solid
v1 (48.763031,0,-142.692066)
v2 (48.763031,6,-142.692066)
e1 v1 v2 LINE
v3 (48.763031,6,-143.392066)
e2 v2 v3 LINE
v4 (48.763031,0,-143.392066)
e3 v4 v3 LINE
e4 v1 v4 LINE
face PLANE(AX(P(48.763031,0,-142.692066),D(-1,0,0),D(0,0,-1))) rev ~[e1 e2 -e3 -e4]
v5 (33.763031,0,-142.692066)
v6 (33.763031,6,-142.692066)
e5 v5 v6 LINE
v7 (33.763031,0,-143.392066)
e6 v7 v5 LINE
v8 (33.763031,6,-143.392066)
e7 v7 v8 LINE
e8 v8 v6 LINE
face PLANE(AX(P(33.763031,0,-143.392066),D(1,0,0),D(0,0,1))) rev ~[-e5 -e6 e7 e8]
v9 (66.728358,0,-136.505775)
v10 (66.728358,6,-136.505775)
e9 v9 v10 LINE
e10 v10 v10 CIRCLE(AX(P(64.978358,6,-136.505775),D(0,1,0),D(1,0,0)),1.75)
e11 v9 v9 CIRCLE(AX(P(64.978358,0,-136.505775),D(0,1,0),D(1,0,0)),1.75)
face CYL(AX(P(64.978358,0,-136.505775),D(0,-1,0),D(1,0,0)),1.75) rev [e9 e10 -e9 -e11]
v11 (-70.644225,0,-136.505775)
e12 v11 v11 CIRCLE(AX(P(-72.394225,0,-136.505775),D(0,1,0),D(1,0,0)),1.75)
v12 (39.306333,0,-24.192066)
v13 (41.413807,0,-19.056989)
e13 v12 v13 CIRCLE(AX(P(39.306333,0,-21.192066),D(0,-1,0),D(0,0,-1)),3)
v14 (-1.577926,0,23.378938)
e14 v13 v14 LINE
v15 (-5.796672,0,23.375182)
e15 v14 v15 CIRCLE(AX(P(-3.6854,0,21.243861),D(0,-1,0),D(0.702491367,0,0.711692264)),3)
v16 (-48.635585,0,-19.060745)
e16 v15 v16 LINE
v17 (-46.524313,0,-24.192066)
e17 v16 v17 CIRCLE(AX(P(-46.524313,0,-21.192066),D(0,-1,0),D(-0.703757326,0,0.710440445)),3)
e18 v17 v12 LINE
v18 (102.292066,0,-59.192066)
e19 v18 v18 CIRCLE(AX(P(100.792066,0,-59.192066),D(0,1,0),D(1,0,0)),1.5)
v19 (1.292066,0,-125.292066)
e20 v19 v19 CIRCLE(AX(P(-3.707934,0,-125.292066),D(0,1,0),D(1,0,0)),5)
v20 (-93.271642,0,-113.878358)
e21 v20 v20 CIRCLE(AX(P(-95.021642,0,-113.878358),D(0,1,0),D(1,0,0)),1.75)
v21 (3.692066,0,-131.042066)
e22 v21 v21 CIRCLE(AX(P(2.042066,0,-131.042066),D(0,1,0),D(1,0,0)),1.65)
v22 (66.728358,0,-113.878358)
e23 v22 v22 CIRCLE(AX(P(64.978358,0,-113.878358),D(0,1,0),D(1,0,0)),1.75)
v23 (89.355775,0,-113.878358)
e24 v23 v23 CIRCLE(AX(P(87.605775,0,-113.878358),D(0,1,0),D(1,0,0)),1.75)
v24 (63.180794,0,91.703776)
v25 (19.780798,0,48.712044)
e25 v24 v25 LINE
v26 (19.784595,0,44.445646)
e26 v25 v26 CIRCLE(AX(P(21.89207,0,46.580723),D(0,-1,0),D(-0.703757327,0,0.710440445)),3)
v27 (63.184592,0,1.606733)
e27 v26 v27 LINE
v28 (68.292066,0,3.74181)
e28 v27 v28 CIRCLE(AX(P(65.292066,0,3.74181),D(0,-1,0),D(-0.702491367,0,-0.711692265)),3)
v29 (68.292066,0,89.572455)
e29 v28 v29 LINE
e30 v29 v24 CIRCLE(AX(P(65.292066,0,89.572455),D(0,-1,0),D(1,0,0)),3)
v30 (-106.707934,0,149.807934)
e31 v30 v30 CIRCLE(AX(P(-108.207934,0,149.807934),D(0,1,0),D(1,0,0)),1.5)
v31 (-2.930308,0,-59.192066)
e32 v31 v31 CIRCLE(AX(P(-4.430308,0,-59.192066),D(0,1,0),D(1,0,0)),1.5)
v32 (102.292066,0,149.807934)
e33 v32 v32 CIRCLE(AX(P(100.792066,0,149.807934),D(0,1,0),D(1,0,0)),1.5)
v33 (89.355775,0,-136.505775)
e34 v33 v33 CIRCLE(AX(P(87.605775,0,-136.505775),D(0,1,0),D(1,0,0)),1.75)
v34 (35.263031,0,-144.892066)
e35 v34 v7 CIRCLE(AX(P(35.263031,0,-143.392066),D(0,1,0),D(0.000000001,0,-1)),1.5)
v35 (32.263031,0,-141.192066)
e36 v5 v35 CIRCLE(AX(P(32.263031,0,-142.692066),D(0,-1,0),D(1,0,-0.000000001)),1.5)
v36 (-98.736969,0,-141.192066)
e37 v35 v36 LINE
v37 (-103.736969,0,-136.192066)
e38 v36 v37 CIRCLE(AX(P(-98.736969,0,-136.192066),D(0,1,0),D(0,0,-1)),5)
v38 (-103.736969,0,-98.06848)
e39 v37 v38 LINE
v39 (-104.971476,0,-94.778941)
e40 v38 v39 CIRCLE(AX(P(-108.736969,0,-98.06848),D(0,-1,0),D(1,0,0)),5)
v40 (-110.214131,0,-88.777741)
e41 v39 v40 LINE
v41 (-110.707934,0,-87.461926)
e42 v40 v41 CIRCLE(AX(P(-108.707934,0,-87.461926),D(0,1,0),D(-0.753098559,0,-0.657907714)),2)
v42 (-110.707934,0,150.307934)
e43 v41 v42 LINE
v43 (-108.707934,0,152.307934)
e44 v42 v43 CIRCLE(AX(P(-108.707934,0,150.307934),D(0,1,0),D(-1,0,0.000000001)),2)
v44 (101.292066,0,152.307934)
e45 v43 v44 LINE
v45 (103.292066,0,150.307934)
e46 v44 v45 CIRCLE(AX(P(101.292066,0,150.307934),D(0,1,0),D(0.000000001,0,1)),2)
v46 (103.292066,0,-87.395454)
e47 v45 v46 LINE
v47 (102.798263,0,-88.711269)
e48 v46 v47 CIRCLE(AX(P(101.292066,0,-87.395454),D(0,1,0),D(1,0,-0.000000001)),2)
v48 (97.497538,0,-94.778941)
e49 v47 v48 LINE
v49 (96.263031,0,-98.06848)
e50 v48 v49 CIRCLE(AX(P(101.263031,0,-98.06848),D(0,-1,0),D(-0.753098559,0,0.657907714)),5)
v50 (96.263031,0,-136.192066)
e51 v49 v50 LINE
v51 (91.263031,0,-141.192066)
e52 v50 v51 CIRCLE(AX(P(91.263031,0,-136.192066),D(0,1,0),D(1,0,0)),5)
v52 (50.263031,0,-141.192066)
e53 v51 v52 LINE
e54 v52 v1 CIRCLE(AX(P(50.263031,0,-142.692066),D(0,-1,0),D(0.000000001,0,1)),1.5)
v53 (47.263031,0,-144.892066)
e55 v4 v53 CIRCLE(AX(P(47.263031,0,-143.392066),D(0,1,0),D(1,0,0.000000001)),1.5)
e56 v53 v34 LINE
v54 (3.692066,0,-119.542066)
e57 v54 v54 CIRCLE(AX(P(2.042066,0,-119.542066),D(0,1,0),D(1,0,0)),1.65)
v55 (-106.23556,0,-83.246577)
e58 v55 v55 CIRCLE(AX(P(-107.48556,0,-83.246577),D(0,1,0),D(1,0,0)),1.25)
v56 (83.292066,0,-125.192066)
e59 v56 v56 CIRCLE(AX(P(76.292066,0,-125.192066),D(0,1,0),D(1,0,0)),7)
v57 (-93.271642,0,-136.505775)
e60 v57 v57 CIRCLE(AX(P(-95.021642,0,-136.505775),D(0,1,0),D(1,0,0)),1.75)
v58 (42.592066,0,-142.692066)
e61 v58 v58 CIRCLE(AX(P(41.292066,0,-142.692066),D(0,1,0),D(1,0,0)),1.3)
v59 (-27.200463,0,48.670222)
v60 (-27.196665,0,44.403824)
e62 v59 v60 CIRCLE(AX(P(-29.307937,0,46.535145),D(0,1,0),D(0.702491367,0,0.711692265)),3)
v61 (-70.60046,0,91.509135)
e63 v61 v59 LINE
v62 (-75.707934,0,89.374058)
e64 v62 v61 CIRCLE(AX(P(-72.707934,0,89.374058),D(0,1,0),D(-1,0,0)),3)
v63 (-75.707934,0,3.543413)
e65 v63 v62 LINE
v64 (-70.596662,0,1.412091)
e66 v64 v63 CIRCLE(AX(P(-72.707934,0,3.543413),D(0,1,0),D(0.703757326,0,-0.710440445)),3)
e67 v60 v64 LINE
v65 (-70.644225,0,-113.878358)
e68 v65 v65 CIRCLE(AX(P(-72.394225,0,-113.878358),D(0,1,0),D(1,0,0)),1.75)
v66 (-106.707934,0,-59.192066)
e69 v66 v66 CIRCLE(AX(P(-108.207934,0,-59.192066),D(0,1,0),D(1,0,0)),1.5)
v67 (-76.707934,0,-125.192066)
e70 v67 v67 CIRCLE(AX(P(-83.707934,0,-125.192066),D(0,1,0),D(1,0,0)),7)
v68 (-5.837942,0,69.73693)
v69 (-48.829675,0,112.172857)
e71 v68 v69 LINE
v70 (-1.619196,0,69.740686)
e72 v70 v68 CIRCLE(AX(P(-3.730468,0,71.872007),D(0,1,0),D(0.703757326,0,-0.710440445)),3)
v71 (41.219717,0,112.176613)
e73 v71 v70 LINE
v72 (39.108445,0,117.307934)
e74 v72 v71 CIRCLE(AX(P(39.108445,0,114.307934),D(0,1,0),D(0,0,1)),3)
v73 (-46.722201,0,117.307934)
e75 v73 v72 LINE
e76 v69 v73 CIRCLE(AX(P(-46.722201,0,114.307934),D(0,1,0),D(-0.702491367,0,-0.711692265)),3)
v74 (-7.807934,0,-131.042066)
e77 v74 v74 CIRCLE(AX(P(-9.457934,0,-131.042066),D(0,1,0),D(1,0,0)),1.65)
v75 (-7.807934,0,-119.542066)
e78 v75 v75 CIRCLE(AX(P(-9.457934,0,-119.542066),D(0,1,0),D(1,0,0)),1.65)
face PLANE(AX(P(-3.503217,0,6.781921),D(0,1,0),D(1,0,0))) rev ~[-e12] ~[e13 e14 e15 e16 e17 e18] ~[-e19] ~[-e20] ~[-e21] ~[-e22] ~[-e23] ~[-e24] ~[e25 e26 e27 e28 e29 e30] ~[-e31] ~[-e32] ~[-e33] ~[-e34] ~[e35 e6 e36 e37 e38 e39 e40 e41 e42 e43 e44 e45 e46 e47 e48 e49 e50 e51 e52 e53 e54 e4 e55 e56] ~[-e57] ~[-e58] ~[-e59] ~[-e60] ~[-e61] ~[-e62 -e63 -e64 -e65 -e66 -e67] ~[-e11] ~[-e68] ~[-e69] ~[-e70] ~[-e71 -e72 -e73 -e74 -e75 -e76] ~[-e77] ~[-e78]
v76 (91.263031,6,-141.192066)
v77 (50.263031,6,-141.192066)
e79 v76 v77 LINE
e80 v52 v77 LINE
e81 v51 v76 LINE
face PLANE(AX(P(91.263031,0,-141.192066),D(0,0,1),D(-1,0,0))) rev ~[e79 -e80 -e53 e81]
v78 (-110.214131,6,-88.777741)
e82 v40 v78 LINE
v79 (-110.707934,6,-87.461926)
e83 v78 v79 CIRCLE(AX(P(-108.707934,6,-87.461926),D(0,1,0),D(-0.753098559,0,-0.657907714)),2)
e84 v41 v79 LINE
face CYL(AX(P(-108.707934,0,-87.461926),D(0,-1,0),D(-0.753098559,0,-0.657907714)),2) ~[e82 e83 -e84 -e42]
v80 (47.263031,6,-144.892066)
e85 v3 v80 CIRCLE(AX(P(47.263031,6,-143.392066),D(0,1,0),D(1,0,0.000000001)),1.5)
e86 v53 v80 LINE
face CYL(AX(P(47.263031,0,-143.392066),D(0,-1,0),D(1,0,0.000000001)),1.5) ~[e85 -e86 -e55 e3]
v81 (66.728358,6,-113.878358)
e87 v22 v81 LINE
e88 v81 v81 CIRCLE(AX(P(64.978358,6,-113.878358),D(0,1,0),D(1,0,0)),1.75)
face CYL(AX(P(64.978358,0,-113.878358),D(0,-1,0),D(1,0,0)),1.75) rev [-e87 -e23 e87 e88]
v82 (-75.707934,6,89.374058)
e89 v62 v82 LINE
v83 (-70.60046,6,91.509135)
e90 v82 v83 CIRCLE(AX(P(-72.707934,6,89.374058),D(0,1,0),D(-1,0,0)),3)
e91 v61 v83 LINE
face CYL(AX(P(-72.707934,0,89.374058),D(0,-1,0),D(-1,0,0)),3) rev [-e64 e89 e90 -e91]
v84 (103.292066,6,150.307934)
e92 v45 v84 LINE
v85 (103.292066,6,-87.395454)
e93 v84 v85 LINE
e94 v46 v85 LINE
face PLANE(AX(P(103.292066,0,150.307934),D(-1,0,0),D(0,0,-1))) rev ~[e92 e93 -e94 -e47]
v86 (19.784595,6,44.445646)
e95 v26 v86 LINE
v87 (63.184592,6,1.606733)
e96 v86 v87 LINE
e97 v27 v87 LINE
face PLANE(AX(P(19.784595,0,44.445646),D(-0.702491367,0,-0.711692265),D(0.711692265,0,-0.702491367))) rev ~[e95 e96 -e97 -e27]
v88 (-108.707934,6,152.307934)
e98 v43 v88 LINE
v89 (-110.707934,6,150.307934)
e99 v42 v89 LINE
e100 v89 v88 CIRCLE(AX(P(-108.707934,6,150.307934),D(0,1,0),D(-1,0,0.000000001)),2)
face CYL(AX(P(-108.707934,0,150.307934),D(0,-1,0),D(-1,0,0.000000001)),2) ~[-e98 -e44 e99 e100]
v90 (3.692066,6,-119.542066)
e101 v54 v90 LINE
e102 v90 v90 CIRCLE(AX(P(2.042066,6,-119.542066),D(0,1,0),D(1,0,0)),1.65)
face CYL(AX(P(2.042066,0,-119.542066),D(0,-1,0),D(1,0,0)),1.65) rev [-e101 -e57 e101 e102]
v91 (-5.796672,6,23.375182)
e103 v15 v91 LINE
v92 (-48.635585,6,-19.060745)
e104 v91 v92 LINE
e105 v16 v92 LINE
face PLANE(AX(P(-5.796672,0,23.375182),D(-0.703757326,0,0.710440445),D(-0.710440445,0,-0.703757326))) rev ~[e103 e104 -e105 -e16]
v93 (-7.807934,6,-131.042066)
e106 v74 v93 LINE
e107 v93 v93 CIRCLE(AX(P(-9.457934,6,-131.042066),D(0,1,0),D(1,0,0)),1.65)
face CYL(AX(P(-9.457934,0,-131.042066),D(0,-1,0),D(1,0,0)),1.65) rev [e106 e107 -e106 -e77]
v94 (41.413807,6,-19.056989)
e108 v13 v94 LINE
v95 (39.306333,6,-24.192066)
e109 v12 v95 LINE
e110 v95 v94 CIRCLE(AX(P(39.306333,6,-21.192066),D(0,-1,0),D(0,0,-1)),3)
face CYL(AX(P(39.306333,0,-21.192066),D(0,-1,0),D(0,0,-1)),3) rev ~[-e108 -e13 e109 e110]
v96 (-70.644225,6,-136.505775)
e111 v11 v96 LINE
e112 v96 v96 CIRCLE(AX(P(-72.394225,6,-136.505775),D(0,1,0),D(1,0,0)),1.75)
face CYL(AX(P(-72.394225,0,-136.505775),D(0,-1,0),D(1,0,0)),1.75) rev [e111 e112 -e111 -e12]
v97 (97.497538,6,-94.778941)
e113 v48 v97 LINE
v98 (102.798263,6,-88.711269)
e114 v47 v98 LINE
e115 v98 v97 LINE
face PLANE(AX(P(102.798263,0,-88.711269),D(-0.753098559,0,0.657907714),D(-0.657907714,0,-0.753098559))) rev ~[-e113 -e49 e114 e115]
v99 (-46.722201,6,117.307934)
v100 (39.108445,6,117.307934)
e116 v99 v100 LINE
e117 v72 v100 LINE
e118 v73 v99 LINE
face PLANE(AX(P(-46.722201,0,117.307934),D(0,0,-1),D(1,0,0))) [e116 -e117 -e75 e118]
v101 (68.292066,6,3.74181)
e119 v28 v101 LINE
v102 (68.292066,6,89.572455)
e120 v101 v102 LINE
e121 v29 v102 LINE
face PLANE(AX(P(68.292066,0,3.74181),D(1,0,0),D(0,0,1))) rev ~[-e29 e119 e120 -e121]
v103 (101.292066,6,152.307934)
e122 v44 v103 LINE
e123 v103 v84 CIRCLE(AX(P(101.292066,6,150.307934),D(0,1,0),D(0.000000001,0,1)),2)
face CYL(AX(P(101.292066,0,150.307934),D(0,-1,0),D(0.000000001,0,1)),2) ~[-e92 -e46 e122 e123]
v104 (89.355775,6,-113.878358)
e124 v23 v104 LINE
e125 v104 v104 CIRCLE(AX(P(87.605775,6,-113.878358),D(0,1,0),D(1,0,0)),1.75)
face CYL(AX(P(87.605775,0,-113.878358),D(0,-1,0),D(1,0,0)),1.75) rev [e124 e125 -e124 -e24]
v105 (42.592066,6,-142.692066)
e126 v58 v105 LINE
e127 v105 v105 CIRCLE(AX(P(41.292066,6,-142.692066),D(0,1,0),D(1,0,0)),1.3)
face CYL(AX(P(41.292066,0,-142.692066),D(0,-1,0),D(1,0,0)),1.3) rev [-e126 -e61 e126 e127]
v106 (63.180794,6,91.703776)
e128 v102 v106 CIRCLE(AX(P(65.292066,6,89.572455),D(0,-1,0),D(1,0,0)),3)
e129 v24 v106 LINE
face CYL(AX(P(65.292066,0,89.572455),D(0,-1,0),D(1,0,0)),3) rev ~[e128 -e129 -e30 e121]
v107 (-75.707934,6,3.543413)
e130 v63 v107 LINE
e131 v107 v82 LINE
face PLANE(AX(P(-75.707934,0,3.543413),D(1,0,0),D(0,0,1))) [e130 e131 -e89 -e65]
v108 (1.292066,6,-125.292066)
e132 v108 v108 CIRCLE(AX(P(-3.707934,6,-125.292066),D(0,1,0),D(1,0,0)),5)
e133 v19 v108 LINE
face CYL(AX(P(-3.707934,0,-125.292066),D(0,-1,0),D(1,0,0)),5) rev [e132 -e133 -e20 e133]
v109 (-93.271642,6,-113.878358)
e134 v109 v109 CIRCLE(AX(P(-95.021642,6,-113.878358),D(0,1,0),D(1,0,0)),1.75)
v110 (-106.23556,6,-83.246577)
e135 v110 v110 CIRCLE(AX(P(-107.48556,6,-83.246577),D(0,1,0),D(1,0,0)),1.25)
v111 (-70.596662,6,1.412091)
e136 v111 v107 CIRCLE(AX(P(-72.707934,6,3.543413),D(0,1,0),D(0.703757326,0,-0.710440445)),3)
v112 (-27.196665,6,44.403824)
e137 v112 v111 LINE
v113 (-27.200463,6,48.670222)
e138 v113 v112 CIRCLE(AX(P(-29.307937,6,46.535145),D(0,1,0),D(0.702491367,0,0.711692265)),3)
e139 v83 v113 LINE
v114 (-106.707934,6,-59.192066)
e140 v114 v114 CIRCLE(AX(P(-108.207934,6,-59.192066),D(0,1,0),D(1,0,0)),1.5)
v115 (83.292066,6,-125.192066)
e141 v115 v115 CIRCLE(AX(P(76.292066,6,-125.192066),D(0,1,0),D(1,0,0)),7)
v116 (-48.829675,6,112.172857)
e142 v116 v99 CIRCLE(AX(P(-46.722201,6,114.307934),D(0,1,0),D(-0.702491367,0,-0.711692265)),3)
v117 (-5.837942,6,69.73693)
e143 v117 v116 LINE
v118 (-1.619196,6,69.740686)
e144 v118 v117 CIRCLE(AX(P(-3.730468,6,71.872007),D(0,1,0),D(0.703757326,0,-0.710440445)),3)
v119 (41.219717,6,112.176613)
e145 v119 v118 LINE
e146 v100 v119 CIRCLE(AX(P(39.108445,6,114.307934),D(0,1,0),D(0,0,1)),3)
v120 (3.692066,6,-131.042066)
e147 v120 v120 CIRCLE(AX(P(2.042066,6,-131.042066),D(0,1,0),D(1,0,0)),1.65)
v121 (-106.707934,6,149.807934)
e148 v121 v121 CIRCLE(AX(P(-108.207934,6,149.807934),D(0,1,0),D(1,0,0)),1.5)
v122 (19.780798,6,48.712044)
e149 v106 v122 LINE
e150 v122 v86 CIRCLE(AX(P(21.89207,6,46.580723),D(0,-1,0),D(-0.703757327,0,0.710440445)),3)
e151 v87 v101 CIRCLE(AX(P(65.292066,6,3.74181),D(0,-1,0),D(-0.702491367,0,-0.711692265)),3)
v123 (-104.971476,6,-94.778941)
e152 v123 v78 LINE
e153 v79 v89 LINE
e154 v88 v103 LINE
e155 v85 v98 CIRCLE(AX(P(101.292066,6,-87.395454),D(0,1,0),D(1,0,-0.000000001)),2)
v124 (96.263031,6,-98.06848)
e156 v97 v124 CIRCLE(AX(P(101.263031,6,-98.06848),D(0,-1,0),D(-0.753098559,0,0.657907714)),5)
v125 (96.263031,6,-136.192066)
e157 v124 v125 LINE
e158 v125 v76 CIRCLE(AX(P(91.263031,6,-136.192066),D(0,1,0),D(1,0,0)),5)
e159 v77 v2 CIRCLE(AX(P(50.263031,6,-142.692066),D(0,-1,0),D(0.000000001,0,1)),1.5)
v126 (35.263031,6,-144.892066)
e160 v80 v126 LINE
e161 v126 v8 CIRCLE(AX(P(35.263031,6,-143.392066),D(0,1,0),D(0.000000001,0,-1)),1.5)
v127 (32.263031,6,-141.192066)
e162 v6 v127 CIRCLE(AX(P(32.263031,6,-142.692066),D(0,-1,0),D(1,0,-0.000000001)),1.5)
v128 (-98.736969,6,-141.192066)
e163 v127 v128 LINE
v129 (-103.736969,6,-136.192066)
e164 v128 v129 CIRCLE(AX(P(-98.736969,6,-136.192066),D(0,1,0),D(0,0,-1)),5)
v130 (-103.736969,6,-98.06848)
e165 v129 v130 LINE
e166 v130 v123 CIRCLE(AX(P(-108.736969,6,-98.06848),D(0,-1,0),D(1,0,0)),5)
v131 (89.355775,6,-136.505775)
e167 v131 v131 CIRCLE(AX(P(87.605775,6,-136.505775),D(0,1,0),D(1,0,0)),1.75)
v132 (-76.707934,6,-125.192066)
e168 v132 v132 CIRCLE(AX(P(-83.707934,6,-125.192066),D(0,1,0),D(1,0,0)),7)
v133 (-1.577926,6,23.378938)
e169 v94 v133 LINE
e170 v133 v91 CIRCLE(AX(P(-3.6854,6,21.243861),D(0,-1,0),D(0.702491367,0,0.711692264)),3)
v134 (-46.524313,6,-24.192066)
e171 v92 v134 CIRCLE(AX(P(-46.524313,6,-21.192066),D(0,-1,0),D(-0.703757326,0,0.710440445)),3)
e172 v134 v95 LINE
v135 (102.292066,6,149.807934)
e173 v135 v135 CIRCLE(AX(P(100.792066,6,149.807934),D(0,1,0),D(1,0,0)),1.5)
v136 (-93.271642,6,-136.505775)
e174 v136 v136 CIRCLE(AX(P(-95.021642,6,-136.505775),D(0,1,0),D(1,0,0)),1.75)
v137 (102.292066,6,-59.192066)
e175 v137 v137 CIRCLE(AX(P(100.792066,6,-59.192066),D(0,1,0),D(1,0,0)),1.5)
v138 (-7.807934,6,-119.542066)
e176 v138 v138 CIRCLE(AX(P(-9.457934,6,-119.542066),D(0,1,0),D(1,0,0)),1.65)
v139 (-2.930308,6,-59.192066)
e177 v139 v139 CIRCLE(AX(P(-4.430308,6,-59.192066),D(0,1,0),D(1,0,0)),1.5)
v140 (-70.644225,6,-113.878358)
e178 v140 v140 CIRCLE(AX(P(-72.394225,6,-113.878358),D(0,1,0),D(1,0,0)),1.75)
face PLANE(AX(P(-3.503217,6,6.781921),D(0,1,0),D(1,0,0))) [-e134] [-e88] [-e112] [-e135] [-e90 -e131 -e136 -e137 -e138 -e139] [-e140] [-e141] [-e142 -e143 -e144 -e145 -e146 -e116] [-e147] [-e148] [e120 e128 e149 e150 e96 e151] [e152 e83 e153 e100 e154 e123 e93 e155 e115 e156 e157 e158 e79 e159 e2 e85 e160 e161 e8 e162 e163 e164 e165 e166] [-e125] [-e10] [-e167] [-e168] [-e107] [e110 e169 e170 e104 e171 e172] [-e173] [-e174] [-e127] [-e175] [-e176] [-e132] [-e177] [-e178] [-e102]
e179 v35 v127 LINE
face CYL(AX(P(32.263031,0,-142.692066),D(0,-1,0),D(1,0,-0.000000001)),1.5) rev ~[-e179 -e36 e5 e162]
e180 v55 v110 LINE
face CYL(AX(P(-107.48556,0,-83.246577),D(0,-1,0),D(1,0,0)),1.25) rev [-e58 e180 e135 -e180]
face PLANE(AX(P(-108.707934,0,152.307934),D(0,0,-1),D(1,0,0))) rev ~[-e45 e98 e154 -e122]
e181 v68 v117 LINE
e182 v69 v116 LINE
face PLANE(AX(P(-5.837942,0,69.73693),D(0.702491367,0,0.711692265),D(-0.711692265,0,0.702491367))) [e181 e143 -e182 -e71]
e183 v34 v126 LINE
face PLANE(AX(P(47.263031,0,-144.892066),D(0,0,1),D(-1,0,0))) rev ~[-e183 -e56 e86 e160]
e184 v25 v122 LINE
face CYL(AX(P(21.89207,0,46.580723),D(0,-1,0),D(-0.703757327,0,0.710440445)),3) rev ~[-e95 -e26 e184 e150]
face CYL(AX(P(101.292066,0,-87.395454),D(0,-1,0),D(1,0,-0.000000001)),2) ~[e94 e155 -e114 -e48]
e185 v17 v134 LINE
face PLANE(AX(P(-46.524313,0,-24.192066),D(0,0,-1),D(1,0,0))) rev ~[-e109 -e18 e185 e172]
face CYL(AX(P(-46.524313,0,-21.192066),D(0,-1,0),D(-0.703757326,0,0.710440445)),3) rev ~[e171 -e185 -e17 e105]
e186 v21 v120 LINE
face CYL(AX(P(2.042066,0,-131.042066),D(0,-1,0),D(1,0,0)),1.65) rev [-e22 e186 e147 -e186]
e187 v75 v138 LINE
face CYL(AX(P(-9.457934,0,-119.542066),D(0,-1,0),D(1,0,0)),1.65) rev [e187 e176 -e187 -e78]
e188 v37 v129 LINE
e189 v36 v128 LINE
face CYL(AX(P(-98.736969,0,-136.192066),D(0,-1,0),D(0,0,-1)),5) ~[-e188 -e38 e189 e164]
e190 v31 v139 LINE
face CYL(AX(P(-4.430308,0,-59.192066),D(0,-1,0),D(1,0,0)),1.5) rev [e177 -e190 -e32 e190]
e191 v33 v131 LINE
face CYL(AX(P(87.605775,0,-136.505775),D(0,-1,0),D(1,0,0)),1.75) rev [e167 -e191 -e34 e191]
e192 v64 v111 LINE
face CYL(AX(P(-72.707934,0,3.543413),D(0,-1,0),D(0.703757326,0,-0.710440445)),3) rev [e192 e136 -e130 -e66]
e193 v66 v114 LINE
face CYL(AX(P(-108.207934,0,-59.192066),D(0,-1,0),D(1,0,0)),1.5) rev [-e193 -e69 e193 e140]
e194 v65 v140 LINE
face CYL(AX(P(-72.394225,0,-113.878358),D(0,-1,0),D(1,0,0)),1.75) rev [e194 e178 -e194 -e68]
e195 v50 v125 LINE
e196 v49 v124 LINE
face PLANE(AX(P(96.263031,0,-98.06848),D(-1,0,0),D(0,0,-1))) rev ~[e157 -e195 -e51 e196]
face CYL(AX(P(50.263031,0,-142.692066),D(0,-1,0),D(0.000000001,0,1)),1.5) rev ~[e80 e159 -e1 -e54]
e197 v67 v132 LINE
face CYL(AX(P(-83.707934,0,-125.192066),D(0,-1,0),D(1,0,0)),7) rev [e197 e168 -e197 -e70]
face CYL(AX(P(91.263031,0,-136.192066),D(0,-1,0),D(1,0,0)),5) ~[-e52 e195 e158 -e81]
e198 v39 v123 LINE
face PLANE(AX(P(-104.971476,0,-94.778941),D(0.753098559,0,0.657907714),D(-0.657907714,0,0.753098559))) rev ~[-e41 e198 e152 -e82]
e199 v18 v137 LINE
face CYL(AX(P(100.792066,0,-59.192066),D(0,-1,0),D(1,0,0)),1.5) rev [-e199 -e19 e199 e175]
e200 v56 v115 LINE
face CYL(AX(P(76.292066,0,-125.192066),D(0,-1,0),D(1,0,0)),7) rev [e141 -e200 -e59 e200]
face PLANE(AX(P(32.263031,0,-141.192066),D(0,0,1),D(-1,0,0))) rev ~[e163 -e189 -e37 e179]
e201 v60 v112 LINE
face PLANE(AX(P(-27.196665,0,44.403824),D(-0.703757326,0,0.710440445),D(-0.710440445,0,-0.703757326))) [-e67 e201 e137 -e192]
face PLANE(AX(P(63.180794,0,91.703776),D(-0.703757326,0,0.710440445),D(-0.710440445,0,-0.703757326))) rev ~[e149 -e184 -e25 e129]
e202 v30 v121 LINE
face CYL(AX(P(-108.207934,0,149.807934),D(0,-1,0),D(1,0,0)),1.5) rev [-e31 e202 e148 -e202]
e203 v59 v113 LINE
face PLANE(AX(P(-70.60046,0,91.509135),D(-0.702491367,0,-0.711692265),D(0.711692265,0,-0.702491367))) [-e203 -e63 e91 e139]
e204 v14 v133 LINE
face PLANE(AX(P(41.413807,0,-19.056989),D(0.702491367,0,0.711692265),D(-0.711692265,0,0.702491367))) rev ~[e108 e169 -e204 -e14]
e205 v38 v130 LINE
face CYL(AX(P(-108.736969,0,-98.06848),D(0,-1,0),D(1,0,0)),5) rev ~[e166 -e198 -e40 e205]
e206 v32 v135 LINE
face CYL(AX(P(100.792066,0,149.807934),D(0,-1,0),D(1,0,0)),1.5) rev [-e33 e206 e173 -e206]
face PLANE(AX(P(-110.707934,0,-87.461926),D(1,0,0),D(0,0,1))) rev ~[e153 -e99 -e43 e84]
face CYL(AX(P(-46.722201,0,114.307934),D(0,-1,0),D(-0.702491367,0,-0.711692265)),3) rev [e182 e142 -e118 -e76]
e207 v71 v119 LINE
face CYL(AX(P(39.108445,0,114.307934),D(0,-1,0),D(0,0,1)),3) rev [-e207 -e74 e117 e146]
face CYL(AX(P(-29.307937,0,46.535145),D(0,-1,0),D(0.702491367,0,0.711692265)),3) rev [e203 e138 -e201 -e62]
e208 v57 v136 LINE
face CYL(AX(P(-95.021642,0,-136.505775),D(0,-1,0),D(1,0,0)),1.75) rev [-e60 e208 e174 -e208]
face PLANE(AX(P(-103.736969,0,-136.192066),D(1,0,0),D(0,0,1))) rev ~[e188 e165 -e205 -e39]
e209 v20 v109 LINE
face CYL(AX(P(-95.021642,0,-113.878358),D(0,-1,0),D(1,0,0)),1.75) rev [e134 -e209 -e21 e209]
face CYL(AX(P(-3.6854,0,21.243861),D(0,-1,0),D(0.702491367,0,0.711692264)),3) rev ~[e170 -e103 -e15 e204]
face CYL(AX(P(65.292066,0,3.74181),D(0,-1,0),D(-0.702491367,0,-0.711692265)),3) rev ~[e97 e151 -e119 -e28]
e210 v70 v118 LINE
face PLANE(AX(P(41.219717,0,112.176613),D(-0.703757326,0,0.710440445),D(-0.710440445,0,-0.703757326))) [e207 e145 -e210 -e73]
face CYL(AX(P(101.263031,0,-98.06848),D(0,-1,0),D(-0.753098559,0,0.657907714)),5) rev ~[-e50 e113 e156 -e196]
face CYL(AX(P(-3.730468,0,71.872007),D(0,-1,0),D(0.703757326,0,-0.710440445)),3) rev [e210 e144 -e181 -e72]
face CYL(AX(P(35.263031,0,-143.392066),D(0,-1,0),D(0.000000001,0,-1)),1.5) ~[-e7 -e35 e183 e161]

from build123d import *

# Parameters (mm, degrees)
SKETCH_1_R      = 1.25
SKETCH_1_R_2    = 1.5
SKETCH_1_R_3    = 1.65
SKETCH_1_R_4    = 5
SKETCH_1_R_5    = 1.75
SKETCH_1_R_6    = 7
SKETCH_1_R_7    = 1.3
EXTRUDE_1_DEPTH = 6


with BuildPart() as part:
    # Эскиз1 → Бобышка-Вытянуть1 (new body)
    with BuildSketch(Plane(origin=(0, 0, 0), x_dir=(1, 0, 0), z_dir=(0, 1, 0))):
        with BuildLine():
            Line((96.263031015, 98.068479993), (96.263031015, 136.192066055))
            ThreePointArc((96.263031015, 136.192066055), (94.798564921, 139.727599961), (91.263031015, 141.192066055))
            Line((91.263031015, 141.192066055), (50.263031015, 141.192066055))
            ThreePointArc((50.263031015, 141.192066055), (49.202370843, 141.631405883), (48.763031015, 142.692066055))
            Line((48.763031015, 142.692066055), (48.763031015, 143.392066055))
            ThreePointArc((48.763031015, 143.392066055), (48.323691187, 144.452726227), (47.263031015, 144.892066055))
            Line((47.263031015, 144.892066055), (35.263031015, 144.892066055))
            ThreePointArc((35.263031015, 144.892066055), (34.202370843, 144.452726227), (33.763031015, 143.392066055))
            Line((33.763031015, 143.392066055), (33.763031015, 142.692066055))
            ThreePointArc((33.763031015, 142.692066055), (33.323691187, 141.631405883), (32.263031015, 141.192066055))
            Line((32.263031015, 141.192066055), (-98.736968985, 141.192066055))
            ThreePointArc((-98.736968985, 141.192066055), (-102.272502891, 139.727599961), (-103.736968985, 136.192066055))
            Line((-103.736968985, 136.192066055), (-103.736968985, 108.992066055))
            Line((-103.736968985, 108.992066055), (-103.736968985, 102.492066055))
            Line((-103.736968985, 102.492066055), (-103.736968985, 98.068479993))
            ThreePointArc((-103.736968985, 98.068479993), (-104.055758459, 96.311702257), (-104.971476189, 94.778941422))
            Line((-104.971476189, 94.778941422), (-110.214131063, 88.777741336))
            ThreePointArc((-110.214131063, 88.777741336), (-110.580418155, 88.164637002), (-110.707933945, 87.461925907))
            Line((-110.707933945, 87.461925907), (-110.707933945, -150.307933945))
            ThreePointArc((-110.707933945, -150.307933945), (-110.122147507, -151.722147507), (-108.707933945, -152.307933945))
            Line((-108.707933945, -152.307933945), (101.292066055, -152.307933945))
            ThreePointArc((101.292066055, -152.307933945), (102.706279617, -151.722147507), (103.292066055, -150.307933945))
            Line((103.292066055, -150.307933945), (103.292066055, 87.395453829))
            ThreePointArc((103.292066055, 87.395453829), (103.164550265, 88.098164923), (102.798263173, 88.711269257))
            Line((102.798263173, 88.711269257), (97.49753822, 94.778941422))
            ThreePointArc((97.49753822, 94.778941422), (96.581820489, 96.311702258), (96.263031015, 98.068479993))
        make_face()
        with Locations((-107.485559607, 83.246576588)):
            Circle(SKETCH_1_R, mode=Mode.SUBTRACT)
        with Locations((-108.207933945, -149.807933945)):
            Circle(SKETCH_1_R_2, mode=Mode.SUBTRACT)
        with Locations((100.792066055, -149.807933945)):
            Circle(SKETCH_1_R_2, mode=Mode.SUBTRACT)
        with Locations((2.042066055, 131.042066055)):
            Circle(SKETCH_1_R_3, mode=Mode.SUBTRACT)
        with Locations((-9.457933945, 131.042066055)):
            Circle(SKETCH_1_R_3, mode=Mode.SUBTRACT)
        with Locations((-4.430308283, 59.192066055)):
            Circle(SKETCH_1_R_2, mode=Mode.SUBTRACT)
        with Locations((-3.707933945, 125.292066055)):
            Circle(SKETCH_1_R_4, mode=Mode.SUBTRACT)
        with Locations((-72.394225446, 113.878357556)):
            Circle(SKETCH_1_R_5, mode=Mode.SUBTRACT)
        with Locations((-95.021642444, 136.505774554)):
            Circle(SKETCH_1_R_5, mode=Mode.SUBTRACT)
        with Locations((-83.707933945, 125.192066055)):
            Circle(SKETCH_1_R_6, mode=Mode.SUBTRACT)
        with Locations((-72.394225446, 136.505774554)):
            Circle(SKETCH_1_R_5, mode=Mode.SUBTRACT)
        with Locations((-95.021642444, 113.878357556)):
            Circle(SKETCH_1_R_5, mode=Mode.SUBTRACT)
        with Locations((87.605774554, 136.505774554)):
            Circle(SKETCH_1_R_5, mode=Mode.SUBTRACT)
        with Locations((76.292066055, 125.192066055)):
            Circle(SKETCH_1_R_6, mode=Mode.SUBTRACT)
        with Locations((64.978357556, 136.505774554)):
            Circle(SKETCH_1_R_5, mode=Mode.SUBTRACT)
        with Locations((87.605774554, 113.878357556)):
            Circle(SKETCH_1_R_5, mode=Mode.SUBTRACT)
        with Locations((-9.457933945, 119.542066055)):
            Circle(SKETCH_1_R_3, mode=Mode.SUBTRACT)
        with Locations((2.042066055, 119.542066055)):
            Circle(SKETCH_1_R_3, mode=Mode.SUBTRACT)
        with Locations((41.292066055, 142.692066055)):
            Circle(SKETCH_1_R_7, mode=Mode.SUBTRACT)
        with Locations((64.978357556, 113.878357556)):
            Circle(SKETCH_1_R_5, mode=Mode.SUBTRACT)
        with Locations((100.792066055, 59.192066055)):
            Circle(SKETCH_1_R_2, mode=Mode.SUBTRACT)
        with Locations((-108.207933945, 59.192066055)):
            Circle(SKETCH_1_R_2, mode=Mode.SUBTRACT)
        with BuildLine():
            Line((-46.524312559, 24.192066055), (39.306332642, 24.192066055))
            ThreePointArc((39.306332642, 24.192066055), (42.081691212, 22.331094066), (41.413806743, 19.056989261))
            Line((41.413806743, 19.056989261), (-1.577925667, -23.378937563))
            ThreePointArc((-1.577925667, -23.378937563), (-3.688070318, -24.243859581), (-5.796671746, -23.375182104))
            Line((-5.796671746, -23.375182104), (-48.635584538, 19.060744721))
            ThreePointArc((-48.635584538, 19.060744721), (-49.298656086, 22.333564193), (-46.524312559, 24.192066055))
        make_face(mode=Mode.SUBTRACT)
        with BuildLine():
            Line((-75.707933945, -3.543412827), (-75.707933945, -89.374058029))
            ThreePointArc((-75.707933945, -89.374058029), (-73.86499438, -92.141947324), (-70.600459844, -91.509134823))
            Line((-70.600459844, -91.509134823), (-27.200463349, -48.670222031))
            ThreePointArc((-27.200463349, -48.670222031), (-26.307938638, -46.537815787), (-27.19666547, -44.403823902))
            Line((-27.19666547, -44.403823902), (-70.596661966, -1.412091493))
            ThreePointArc((-70.596661966, -1.412091493), (-73.862529992, -0.774494633), (-75.707933945, -3.543412827))
        make_face(mode=Mode.SUBTRACT)
        with BuildLine():
            Line((-46.722200532, -117.307933945), (39.10844467, -117.307933945))
            ThreePointArc((39.10844467, -117.307933945), (41.882788196, -115.449432083), (41.219716649, -112.17661261))
            Line((41.219716649, -112.17661261), (-1.619196144, -69.740685786))
            ThreePointArc((-1.619196144, -69.740685786), (-3.727797572, -68.872008309), (-5.837942223, -69.736930327))
            Line((-5.837942223, -69.736930327), (-48.829674632, -112.172857151))
            ThreePointArc((-48.829674632, -112.172857151), (-49.497559102, -115.446961956), (-46.722200532, -117.307933945))
        make_face(mode=Mode.SUBTRACT)
        with BuildLine():
            Line((68.292066055, -3.741809861), (68.292066055, -89.572455062))
            ThreePointArc((68.292066055, -89.572455062), (66.446662102, -92.341373257), (63.180794076, -91.703776397))
            Line((63.180794076, -91.703776397), (19.78079758, -48.712043988))
            ThreePointArc((19.78079758, -48.712043988), (18.892070748, -46.578052103), (19.784595459, -44.445645859))
            Line((19.784595459, -44.445645859), (63.184591955, -1.606733067))
            ThreePointArc((63.184591955, -1.606733067), (66.44912649, -0.973920566), (68.292066055, -3.741809861))
        make_face(mode=Mode.SUBTRACT)
    extrude(amount=EXTRUDE_1_DEPTH)


solid = part.part
